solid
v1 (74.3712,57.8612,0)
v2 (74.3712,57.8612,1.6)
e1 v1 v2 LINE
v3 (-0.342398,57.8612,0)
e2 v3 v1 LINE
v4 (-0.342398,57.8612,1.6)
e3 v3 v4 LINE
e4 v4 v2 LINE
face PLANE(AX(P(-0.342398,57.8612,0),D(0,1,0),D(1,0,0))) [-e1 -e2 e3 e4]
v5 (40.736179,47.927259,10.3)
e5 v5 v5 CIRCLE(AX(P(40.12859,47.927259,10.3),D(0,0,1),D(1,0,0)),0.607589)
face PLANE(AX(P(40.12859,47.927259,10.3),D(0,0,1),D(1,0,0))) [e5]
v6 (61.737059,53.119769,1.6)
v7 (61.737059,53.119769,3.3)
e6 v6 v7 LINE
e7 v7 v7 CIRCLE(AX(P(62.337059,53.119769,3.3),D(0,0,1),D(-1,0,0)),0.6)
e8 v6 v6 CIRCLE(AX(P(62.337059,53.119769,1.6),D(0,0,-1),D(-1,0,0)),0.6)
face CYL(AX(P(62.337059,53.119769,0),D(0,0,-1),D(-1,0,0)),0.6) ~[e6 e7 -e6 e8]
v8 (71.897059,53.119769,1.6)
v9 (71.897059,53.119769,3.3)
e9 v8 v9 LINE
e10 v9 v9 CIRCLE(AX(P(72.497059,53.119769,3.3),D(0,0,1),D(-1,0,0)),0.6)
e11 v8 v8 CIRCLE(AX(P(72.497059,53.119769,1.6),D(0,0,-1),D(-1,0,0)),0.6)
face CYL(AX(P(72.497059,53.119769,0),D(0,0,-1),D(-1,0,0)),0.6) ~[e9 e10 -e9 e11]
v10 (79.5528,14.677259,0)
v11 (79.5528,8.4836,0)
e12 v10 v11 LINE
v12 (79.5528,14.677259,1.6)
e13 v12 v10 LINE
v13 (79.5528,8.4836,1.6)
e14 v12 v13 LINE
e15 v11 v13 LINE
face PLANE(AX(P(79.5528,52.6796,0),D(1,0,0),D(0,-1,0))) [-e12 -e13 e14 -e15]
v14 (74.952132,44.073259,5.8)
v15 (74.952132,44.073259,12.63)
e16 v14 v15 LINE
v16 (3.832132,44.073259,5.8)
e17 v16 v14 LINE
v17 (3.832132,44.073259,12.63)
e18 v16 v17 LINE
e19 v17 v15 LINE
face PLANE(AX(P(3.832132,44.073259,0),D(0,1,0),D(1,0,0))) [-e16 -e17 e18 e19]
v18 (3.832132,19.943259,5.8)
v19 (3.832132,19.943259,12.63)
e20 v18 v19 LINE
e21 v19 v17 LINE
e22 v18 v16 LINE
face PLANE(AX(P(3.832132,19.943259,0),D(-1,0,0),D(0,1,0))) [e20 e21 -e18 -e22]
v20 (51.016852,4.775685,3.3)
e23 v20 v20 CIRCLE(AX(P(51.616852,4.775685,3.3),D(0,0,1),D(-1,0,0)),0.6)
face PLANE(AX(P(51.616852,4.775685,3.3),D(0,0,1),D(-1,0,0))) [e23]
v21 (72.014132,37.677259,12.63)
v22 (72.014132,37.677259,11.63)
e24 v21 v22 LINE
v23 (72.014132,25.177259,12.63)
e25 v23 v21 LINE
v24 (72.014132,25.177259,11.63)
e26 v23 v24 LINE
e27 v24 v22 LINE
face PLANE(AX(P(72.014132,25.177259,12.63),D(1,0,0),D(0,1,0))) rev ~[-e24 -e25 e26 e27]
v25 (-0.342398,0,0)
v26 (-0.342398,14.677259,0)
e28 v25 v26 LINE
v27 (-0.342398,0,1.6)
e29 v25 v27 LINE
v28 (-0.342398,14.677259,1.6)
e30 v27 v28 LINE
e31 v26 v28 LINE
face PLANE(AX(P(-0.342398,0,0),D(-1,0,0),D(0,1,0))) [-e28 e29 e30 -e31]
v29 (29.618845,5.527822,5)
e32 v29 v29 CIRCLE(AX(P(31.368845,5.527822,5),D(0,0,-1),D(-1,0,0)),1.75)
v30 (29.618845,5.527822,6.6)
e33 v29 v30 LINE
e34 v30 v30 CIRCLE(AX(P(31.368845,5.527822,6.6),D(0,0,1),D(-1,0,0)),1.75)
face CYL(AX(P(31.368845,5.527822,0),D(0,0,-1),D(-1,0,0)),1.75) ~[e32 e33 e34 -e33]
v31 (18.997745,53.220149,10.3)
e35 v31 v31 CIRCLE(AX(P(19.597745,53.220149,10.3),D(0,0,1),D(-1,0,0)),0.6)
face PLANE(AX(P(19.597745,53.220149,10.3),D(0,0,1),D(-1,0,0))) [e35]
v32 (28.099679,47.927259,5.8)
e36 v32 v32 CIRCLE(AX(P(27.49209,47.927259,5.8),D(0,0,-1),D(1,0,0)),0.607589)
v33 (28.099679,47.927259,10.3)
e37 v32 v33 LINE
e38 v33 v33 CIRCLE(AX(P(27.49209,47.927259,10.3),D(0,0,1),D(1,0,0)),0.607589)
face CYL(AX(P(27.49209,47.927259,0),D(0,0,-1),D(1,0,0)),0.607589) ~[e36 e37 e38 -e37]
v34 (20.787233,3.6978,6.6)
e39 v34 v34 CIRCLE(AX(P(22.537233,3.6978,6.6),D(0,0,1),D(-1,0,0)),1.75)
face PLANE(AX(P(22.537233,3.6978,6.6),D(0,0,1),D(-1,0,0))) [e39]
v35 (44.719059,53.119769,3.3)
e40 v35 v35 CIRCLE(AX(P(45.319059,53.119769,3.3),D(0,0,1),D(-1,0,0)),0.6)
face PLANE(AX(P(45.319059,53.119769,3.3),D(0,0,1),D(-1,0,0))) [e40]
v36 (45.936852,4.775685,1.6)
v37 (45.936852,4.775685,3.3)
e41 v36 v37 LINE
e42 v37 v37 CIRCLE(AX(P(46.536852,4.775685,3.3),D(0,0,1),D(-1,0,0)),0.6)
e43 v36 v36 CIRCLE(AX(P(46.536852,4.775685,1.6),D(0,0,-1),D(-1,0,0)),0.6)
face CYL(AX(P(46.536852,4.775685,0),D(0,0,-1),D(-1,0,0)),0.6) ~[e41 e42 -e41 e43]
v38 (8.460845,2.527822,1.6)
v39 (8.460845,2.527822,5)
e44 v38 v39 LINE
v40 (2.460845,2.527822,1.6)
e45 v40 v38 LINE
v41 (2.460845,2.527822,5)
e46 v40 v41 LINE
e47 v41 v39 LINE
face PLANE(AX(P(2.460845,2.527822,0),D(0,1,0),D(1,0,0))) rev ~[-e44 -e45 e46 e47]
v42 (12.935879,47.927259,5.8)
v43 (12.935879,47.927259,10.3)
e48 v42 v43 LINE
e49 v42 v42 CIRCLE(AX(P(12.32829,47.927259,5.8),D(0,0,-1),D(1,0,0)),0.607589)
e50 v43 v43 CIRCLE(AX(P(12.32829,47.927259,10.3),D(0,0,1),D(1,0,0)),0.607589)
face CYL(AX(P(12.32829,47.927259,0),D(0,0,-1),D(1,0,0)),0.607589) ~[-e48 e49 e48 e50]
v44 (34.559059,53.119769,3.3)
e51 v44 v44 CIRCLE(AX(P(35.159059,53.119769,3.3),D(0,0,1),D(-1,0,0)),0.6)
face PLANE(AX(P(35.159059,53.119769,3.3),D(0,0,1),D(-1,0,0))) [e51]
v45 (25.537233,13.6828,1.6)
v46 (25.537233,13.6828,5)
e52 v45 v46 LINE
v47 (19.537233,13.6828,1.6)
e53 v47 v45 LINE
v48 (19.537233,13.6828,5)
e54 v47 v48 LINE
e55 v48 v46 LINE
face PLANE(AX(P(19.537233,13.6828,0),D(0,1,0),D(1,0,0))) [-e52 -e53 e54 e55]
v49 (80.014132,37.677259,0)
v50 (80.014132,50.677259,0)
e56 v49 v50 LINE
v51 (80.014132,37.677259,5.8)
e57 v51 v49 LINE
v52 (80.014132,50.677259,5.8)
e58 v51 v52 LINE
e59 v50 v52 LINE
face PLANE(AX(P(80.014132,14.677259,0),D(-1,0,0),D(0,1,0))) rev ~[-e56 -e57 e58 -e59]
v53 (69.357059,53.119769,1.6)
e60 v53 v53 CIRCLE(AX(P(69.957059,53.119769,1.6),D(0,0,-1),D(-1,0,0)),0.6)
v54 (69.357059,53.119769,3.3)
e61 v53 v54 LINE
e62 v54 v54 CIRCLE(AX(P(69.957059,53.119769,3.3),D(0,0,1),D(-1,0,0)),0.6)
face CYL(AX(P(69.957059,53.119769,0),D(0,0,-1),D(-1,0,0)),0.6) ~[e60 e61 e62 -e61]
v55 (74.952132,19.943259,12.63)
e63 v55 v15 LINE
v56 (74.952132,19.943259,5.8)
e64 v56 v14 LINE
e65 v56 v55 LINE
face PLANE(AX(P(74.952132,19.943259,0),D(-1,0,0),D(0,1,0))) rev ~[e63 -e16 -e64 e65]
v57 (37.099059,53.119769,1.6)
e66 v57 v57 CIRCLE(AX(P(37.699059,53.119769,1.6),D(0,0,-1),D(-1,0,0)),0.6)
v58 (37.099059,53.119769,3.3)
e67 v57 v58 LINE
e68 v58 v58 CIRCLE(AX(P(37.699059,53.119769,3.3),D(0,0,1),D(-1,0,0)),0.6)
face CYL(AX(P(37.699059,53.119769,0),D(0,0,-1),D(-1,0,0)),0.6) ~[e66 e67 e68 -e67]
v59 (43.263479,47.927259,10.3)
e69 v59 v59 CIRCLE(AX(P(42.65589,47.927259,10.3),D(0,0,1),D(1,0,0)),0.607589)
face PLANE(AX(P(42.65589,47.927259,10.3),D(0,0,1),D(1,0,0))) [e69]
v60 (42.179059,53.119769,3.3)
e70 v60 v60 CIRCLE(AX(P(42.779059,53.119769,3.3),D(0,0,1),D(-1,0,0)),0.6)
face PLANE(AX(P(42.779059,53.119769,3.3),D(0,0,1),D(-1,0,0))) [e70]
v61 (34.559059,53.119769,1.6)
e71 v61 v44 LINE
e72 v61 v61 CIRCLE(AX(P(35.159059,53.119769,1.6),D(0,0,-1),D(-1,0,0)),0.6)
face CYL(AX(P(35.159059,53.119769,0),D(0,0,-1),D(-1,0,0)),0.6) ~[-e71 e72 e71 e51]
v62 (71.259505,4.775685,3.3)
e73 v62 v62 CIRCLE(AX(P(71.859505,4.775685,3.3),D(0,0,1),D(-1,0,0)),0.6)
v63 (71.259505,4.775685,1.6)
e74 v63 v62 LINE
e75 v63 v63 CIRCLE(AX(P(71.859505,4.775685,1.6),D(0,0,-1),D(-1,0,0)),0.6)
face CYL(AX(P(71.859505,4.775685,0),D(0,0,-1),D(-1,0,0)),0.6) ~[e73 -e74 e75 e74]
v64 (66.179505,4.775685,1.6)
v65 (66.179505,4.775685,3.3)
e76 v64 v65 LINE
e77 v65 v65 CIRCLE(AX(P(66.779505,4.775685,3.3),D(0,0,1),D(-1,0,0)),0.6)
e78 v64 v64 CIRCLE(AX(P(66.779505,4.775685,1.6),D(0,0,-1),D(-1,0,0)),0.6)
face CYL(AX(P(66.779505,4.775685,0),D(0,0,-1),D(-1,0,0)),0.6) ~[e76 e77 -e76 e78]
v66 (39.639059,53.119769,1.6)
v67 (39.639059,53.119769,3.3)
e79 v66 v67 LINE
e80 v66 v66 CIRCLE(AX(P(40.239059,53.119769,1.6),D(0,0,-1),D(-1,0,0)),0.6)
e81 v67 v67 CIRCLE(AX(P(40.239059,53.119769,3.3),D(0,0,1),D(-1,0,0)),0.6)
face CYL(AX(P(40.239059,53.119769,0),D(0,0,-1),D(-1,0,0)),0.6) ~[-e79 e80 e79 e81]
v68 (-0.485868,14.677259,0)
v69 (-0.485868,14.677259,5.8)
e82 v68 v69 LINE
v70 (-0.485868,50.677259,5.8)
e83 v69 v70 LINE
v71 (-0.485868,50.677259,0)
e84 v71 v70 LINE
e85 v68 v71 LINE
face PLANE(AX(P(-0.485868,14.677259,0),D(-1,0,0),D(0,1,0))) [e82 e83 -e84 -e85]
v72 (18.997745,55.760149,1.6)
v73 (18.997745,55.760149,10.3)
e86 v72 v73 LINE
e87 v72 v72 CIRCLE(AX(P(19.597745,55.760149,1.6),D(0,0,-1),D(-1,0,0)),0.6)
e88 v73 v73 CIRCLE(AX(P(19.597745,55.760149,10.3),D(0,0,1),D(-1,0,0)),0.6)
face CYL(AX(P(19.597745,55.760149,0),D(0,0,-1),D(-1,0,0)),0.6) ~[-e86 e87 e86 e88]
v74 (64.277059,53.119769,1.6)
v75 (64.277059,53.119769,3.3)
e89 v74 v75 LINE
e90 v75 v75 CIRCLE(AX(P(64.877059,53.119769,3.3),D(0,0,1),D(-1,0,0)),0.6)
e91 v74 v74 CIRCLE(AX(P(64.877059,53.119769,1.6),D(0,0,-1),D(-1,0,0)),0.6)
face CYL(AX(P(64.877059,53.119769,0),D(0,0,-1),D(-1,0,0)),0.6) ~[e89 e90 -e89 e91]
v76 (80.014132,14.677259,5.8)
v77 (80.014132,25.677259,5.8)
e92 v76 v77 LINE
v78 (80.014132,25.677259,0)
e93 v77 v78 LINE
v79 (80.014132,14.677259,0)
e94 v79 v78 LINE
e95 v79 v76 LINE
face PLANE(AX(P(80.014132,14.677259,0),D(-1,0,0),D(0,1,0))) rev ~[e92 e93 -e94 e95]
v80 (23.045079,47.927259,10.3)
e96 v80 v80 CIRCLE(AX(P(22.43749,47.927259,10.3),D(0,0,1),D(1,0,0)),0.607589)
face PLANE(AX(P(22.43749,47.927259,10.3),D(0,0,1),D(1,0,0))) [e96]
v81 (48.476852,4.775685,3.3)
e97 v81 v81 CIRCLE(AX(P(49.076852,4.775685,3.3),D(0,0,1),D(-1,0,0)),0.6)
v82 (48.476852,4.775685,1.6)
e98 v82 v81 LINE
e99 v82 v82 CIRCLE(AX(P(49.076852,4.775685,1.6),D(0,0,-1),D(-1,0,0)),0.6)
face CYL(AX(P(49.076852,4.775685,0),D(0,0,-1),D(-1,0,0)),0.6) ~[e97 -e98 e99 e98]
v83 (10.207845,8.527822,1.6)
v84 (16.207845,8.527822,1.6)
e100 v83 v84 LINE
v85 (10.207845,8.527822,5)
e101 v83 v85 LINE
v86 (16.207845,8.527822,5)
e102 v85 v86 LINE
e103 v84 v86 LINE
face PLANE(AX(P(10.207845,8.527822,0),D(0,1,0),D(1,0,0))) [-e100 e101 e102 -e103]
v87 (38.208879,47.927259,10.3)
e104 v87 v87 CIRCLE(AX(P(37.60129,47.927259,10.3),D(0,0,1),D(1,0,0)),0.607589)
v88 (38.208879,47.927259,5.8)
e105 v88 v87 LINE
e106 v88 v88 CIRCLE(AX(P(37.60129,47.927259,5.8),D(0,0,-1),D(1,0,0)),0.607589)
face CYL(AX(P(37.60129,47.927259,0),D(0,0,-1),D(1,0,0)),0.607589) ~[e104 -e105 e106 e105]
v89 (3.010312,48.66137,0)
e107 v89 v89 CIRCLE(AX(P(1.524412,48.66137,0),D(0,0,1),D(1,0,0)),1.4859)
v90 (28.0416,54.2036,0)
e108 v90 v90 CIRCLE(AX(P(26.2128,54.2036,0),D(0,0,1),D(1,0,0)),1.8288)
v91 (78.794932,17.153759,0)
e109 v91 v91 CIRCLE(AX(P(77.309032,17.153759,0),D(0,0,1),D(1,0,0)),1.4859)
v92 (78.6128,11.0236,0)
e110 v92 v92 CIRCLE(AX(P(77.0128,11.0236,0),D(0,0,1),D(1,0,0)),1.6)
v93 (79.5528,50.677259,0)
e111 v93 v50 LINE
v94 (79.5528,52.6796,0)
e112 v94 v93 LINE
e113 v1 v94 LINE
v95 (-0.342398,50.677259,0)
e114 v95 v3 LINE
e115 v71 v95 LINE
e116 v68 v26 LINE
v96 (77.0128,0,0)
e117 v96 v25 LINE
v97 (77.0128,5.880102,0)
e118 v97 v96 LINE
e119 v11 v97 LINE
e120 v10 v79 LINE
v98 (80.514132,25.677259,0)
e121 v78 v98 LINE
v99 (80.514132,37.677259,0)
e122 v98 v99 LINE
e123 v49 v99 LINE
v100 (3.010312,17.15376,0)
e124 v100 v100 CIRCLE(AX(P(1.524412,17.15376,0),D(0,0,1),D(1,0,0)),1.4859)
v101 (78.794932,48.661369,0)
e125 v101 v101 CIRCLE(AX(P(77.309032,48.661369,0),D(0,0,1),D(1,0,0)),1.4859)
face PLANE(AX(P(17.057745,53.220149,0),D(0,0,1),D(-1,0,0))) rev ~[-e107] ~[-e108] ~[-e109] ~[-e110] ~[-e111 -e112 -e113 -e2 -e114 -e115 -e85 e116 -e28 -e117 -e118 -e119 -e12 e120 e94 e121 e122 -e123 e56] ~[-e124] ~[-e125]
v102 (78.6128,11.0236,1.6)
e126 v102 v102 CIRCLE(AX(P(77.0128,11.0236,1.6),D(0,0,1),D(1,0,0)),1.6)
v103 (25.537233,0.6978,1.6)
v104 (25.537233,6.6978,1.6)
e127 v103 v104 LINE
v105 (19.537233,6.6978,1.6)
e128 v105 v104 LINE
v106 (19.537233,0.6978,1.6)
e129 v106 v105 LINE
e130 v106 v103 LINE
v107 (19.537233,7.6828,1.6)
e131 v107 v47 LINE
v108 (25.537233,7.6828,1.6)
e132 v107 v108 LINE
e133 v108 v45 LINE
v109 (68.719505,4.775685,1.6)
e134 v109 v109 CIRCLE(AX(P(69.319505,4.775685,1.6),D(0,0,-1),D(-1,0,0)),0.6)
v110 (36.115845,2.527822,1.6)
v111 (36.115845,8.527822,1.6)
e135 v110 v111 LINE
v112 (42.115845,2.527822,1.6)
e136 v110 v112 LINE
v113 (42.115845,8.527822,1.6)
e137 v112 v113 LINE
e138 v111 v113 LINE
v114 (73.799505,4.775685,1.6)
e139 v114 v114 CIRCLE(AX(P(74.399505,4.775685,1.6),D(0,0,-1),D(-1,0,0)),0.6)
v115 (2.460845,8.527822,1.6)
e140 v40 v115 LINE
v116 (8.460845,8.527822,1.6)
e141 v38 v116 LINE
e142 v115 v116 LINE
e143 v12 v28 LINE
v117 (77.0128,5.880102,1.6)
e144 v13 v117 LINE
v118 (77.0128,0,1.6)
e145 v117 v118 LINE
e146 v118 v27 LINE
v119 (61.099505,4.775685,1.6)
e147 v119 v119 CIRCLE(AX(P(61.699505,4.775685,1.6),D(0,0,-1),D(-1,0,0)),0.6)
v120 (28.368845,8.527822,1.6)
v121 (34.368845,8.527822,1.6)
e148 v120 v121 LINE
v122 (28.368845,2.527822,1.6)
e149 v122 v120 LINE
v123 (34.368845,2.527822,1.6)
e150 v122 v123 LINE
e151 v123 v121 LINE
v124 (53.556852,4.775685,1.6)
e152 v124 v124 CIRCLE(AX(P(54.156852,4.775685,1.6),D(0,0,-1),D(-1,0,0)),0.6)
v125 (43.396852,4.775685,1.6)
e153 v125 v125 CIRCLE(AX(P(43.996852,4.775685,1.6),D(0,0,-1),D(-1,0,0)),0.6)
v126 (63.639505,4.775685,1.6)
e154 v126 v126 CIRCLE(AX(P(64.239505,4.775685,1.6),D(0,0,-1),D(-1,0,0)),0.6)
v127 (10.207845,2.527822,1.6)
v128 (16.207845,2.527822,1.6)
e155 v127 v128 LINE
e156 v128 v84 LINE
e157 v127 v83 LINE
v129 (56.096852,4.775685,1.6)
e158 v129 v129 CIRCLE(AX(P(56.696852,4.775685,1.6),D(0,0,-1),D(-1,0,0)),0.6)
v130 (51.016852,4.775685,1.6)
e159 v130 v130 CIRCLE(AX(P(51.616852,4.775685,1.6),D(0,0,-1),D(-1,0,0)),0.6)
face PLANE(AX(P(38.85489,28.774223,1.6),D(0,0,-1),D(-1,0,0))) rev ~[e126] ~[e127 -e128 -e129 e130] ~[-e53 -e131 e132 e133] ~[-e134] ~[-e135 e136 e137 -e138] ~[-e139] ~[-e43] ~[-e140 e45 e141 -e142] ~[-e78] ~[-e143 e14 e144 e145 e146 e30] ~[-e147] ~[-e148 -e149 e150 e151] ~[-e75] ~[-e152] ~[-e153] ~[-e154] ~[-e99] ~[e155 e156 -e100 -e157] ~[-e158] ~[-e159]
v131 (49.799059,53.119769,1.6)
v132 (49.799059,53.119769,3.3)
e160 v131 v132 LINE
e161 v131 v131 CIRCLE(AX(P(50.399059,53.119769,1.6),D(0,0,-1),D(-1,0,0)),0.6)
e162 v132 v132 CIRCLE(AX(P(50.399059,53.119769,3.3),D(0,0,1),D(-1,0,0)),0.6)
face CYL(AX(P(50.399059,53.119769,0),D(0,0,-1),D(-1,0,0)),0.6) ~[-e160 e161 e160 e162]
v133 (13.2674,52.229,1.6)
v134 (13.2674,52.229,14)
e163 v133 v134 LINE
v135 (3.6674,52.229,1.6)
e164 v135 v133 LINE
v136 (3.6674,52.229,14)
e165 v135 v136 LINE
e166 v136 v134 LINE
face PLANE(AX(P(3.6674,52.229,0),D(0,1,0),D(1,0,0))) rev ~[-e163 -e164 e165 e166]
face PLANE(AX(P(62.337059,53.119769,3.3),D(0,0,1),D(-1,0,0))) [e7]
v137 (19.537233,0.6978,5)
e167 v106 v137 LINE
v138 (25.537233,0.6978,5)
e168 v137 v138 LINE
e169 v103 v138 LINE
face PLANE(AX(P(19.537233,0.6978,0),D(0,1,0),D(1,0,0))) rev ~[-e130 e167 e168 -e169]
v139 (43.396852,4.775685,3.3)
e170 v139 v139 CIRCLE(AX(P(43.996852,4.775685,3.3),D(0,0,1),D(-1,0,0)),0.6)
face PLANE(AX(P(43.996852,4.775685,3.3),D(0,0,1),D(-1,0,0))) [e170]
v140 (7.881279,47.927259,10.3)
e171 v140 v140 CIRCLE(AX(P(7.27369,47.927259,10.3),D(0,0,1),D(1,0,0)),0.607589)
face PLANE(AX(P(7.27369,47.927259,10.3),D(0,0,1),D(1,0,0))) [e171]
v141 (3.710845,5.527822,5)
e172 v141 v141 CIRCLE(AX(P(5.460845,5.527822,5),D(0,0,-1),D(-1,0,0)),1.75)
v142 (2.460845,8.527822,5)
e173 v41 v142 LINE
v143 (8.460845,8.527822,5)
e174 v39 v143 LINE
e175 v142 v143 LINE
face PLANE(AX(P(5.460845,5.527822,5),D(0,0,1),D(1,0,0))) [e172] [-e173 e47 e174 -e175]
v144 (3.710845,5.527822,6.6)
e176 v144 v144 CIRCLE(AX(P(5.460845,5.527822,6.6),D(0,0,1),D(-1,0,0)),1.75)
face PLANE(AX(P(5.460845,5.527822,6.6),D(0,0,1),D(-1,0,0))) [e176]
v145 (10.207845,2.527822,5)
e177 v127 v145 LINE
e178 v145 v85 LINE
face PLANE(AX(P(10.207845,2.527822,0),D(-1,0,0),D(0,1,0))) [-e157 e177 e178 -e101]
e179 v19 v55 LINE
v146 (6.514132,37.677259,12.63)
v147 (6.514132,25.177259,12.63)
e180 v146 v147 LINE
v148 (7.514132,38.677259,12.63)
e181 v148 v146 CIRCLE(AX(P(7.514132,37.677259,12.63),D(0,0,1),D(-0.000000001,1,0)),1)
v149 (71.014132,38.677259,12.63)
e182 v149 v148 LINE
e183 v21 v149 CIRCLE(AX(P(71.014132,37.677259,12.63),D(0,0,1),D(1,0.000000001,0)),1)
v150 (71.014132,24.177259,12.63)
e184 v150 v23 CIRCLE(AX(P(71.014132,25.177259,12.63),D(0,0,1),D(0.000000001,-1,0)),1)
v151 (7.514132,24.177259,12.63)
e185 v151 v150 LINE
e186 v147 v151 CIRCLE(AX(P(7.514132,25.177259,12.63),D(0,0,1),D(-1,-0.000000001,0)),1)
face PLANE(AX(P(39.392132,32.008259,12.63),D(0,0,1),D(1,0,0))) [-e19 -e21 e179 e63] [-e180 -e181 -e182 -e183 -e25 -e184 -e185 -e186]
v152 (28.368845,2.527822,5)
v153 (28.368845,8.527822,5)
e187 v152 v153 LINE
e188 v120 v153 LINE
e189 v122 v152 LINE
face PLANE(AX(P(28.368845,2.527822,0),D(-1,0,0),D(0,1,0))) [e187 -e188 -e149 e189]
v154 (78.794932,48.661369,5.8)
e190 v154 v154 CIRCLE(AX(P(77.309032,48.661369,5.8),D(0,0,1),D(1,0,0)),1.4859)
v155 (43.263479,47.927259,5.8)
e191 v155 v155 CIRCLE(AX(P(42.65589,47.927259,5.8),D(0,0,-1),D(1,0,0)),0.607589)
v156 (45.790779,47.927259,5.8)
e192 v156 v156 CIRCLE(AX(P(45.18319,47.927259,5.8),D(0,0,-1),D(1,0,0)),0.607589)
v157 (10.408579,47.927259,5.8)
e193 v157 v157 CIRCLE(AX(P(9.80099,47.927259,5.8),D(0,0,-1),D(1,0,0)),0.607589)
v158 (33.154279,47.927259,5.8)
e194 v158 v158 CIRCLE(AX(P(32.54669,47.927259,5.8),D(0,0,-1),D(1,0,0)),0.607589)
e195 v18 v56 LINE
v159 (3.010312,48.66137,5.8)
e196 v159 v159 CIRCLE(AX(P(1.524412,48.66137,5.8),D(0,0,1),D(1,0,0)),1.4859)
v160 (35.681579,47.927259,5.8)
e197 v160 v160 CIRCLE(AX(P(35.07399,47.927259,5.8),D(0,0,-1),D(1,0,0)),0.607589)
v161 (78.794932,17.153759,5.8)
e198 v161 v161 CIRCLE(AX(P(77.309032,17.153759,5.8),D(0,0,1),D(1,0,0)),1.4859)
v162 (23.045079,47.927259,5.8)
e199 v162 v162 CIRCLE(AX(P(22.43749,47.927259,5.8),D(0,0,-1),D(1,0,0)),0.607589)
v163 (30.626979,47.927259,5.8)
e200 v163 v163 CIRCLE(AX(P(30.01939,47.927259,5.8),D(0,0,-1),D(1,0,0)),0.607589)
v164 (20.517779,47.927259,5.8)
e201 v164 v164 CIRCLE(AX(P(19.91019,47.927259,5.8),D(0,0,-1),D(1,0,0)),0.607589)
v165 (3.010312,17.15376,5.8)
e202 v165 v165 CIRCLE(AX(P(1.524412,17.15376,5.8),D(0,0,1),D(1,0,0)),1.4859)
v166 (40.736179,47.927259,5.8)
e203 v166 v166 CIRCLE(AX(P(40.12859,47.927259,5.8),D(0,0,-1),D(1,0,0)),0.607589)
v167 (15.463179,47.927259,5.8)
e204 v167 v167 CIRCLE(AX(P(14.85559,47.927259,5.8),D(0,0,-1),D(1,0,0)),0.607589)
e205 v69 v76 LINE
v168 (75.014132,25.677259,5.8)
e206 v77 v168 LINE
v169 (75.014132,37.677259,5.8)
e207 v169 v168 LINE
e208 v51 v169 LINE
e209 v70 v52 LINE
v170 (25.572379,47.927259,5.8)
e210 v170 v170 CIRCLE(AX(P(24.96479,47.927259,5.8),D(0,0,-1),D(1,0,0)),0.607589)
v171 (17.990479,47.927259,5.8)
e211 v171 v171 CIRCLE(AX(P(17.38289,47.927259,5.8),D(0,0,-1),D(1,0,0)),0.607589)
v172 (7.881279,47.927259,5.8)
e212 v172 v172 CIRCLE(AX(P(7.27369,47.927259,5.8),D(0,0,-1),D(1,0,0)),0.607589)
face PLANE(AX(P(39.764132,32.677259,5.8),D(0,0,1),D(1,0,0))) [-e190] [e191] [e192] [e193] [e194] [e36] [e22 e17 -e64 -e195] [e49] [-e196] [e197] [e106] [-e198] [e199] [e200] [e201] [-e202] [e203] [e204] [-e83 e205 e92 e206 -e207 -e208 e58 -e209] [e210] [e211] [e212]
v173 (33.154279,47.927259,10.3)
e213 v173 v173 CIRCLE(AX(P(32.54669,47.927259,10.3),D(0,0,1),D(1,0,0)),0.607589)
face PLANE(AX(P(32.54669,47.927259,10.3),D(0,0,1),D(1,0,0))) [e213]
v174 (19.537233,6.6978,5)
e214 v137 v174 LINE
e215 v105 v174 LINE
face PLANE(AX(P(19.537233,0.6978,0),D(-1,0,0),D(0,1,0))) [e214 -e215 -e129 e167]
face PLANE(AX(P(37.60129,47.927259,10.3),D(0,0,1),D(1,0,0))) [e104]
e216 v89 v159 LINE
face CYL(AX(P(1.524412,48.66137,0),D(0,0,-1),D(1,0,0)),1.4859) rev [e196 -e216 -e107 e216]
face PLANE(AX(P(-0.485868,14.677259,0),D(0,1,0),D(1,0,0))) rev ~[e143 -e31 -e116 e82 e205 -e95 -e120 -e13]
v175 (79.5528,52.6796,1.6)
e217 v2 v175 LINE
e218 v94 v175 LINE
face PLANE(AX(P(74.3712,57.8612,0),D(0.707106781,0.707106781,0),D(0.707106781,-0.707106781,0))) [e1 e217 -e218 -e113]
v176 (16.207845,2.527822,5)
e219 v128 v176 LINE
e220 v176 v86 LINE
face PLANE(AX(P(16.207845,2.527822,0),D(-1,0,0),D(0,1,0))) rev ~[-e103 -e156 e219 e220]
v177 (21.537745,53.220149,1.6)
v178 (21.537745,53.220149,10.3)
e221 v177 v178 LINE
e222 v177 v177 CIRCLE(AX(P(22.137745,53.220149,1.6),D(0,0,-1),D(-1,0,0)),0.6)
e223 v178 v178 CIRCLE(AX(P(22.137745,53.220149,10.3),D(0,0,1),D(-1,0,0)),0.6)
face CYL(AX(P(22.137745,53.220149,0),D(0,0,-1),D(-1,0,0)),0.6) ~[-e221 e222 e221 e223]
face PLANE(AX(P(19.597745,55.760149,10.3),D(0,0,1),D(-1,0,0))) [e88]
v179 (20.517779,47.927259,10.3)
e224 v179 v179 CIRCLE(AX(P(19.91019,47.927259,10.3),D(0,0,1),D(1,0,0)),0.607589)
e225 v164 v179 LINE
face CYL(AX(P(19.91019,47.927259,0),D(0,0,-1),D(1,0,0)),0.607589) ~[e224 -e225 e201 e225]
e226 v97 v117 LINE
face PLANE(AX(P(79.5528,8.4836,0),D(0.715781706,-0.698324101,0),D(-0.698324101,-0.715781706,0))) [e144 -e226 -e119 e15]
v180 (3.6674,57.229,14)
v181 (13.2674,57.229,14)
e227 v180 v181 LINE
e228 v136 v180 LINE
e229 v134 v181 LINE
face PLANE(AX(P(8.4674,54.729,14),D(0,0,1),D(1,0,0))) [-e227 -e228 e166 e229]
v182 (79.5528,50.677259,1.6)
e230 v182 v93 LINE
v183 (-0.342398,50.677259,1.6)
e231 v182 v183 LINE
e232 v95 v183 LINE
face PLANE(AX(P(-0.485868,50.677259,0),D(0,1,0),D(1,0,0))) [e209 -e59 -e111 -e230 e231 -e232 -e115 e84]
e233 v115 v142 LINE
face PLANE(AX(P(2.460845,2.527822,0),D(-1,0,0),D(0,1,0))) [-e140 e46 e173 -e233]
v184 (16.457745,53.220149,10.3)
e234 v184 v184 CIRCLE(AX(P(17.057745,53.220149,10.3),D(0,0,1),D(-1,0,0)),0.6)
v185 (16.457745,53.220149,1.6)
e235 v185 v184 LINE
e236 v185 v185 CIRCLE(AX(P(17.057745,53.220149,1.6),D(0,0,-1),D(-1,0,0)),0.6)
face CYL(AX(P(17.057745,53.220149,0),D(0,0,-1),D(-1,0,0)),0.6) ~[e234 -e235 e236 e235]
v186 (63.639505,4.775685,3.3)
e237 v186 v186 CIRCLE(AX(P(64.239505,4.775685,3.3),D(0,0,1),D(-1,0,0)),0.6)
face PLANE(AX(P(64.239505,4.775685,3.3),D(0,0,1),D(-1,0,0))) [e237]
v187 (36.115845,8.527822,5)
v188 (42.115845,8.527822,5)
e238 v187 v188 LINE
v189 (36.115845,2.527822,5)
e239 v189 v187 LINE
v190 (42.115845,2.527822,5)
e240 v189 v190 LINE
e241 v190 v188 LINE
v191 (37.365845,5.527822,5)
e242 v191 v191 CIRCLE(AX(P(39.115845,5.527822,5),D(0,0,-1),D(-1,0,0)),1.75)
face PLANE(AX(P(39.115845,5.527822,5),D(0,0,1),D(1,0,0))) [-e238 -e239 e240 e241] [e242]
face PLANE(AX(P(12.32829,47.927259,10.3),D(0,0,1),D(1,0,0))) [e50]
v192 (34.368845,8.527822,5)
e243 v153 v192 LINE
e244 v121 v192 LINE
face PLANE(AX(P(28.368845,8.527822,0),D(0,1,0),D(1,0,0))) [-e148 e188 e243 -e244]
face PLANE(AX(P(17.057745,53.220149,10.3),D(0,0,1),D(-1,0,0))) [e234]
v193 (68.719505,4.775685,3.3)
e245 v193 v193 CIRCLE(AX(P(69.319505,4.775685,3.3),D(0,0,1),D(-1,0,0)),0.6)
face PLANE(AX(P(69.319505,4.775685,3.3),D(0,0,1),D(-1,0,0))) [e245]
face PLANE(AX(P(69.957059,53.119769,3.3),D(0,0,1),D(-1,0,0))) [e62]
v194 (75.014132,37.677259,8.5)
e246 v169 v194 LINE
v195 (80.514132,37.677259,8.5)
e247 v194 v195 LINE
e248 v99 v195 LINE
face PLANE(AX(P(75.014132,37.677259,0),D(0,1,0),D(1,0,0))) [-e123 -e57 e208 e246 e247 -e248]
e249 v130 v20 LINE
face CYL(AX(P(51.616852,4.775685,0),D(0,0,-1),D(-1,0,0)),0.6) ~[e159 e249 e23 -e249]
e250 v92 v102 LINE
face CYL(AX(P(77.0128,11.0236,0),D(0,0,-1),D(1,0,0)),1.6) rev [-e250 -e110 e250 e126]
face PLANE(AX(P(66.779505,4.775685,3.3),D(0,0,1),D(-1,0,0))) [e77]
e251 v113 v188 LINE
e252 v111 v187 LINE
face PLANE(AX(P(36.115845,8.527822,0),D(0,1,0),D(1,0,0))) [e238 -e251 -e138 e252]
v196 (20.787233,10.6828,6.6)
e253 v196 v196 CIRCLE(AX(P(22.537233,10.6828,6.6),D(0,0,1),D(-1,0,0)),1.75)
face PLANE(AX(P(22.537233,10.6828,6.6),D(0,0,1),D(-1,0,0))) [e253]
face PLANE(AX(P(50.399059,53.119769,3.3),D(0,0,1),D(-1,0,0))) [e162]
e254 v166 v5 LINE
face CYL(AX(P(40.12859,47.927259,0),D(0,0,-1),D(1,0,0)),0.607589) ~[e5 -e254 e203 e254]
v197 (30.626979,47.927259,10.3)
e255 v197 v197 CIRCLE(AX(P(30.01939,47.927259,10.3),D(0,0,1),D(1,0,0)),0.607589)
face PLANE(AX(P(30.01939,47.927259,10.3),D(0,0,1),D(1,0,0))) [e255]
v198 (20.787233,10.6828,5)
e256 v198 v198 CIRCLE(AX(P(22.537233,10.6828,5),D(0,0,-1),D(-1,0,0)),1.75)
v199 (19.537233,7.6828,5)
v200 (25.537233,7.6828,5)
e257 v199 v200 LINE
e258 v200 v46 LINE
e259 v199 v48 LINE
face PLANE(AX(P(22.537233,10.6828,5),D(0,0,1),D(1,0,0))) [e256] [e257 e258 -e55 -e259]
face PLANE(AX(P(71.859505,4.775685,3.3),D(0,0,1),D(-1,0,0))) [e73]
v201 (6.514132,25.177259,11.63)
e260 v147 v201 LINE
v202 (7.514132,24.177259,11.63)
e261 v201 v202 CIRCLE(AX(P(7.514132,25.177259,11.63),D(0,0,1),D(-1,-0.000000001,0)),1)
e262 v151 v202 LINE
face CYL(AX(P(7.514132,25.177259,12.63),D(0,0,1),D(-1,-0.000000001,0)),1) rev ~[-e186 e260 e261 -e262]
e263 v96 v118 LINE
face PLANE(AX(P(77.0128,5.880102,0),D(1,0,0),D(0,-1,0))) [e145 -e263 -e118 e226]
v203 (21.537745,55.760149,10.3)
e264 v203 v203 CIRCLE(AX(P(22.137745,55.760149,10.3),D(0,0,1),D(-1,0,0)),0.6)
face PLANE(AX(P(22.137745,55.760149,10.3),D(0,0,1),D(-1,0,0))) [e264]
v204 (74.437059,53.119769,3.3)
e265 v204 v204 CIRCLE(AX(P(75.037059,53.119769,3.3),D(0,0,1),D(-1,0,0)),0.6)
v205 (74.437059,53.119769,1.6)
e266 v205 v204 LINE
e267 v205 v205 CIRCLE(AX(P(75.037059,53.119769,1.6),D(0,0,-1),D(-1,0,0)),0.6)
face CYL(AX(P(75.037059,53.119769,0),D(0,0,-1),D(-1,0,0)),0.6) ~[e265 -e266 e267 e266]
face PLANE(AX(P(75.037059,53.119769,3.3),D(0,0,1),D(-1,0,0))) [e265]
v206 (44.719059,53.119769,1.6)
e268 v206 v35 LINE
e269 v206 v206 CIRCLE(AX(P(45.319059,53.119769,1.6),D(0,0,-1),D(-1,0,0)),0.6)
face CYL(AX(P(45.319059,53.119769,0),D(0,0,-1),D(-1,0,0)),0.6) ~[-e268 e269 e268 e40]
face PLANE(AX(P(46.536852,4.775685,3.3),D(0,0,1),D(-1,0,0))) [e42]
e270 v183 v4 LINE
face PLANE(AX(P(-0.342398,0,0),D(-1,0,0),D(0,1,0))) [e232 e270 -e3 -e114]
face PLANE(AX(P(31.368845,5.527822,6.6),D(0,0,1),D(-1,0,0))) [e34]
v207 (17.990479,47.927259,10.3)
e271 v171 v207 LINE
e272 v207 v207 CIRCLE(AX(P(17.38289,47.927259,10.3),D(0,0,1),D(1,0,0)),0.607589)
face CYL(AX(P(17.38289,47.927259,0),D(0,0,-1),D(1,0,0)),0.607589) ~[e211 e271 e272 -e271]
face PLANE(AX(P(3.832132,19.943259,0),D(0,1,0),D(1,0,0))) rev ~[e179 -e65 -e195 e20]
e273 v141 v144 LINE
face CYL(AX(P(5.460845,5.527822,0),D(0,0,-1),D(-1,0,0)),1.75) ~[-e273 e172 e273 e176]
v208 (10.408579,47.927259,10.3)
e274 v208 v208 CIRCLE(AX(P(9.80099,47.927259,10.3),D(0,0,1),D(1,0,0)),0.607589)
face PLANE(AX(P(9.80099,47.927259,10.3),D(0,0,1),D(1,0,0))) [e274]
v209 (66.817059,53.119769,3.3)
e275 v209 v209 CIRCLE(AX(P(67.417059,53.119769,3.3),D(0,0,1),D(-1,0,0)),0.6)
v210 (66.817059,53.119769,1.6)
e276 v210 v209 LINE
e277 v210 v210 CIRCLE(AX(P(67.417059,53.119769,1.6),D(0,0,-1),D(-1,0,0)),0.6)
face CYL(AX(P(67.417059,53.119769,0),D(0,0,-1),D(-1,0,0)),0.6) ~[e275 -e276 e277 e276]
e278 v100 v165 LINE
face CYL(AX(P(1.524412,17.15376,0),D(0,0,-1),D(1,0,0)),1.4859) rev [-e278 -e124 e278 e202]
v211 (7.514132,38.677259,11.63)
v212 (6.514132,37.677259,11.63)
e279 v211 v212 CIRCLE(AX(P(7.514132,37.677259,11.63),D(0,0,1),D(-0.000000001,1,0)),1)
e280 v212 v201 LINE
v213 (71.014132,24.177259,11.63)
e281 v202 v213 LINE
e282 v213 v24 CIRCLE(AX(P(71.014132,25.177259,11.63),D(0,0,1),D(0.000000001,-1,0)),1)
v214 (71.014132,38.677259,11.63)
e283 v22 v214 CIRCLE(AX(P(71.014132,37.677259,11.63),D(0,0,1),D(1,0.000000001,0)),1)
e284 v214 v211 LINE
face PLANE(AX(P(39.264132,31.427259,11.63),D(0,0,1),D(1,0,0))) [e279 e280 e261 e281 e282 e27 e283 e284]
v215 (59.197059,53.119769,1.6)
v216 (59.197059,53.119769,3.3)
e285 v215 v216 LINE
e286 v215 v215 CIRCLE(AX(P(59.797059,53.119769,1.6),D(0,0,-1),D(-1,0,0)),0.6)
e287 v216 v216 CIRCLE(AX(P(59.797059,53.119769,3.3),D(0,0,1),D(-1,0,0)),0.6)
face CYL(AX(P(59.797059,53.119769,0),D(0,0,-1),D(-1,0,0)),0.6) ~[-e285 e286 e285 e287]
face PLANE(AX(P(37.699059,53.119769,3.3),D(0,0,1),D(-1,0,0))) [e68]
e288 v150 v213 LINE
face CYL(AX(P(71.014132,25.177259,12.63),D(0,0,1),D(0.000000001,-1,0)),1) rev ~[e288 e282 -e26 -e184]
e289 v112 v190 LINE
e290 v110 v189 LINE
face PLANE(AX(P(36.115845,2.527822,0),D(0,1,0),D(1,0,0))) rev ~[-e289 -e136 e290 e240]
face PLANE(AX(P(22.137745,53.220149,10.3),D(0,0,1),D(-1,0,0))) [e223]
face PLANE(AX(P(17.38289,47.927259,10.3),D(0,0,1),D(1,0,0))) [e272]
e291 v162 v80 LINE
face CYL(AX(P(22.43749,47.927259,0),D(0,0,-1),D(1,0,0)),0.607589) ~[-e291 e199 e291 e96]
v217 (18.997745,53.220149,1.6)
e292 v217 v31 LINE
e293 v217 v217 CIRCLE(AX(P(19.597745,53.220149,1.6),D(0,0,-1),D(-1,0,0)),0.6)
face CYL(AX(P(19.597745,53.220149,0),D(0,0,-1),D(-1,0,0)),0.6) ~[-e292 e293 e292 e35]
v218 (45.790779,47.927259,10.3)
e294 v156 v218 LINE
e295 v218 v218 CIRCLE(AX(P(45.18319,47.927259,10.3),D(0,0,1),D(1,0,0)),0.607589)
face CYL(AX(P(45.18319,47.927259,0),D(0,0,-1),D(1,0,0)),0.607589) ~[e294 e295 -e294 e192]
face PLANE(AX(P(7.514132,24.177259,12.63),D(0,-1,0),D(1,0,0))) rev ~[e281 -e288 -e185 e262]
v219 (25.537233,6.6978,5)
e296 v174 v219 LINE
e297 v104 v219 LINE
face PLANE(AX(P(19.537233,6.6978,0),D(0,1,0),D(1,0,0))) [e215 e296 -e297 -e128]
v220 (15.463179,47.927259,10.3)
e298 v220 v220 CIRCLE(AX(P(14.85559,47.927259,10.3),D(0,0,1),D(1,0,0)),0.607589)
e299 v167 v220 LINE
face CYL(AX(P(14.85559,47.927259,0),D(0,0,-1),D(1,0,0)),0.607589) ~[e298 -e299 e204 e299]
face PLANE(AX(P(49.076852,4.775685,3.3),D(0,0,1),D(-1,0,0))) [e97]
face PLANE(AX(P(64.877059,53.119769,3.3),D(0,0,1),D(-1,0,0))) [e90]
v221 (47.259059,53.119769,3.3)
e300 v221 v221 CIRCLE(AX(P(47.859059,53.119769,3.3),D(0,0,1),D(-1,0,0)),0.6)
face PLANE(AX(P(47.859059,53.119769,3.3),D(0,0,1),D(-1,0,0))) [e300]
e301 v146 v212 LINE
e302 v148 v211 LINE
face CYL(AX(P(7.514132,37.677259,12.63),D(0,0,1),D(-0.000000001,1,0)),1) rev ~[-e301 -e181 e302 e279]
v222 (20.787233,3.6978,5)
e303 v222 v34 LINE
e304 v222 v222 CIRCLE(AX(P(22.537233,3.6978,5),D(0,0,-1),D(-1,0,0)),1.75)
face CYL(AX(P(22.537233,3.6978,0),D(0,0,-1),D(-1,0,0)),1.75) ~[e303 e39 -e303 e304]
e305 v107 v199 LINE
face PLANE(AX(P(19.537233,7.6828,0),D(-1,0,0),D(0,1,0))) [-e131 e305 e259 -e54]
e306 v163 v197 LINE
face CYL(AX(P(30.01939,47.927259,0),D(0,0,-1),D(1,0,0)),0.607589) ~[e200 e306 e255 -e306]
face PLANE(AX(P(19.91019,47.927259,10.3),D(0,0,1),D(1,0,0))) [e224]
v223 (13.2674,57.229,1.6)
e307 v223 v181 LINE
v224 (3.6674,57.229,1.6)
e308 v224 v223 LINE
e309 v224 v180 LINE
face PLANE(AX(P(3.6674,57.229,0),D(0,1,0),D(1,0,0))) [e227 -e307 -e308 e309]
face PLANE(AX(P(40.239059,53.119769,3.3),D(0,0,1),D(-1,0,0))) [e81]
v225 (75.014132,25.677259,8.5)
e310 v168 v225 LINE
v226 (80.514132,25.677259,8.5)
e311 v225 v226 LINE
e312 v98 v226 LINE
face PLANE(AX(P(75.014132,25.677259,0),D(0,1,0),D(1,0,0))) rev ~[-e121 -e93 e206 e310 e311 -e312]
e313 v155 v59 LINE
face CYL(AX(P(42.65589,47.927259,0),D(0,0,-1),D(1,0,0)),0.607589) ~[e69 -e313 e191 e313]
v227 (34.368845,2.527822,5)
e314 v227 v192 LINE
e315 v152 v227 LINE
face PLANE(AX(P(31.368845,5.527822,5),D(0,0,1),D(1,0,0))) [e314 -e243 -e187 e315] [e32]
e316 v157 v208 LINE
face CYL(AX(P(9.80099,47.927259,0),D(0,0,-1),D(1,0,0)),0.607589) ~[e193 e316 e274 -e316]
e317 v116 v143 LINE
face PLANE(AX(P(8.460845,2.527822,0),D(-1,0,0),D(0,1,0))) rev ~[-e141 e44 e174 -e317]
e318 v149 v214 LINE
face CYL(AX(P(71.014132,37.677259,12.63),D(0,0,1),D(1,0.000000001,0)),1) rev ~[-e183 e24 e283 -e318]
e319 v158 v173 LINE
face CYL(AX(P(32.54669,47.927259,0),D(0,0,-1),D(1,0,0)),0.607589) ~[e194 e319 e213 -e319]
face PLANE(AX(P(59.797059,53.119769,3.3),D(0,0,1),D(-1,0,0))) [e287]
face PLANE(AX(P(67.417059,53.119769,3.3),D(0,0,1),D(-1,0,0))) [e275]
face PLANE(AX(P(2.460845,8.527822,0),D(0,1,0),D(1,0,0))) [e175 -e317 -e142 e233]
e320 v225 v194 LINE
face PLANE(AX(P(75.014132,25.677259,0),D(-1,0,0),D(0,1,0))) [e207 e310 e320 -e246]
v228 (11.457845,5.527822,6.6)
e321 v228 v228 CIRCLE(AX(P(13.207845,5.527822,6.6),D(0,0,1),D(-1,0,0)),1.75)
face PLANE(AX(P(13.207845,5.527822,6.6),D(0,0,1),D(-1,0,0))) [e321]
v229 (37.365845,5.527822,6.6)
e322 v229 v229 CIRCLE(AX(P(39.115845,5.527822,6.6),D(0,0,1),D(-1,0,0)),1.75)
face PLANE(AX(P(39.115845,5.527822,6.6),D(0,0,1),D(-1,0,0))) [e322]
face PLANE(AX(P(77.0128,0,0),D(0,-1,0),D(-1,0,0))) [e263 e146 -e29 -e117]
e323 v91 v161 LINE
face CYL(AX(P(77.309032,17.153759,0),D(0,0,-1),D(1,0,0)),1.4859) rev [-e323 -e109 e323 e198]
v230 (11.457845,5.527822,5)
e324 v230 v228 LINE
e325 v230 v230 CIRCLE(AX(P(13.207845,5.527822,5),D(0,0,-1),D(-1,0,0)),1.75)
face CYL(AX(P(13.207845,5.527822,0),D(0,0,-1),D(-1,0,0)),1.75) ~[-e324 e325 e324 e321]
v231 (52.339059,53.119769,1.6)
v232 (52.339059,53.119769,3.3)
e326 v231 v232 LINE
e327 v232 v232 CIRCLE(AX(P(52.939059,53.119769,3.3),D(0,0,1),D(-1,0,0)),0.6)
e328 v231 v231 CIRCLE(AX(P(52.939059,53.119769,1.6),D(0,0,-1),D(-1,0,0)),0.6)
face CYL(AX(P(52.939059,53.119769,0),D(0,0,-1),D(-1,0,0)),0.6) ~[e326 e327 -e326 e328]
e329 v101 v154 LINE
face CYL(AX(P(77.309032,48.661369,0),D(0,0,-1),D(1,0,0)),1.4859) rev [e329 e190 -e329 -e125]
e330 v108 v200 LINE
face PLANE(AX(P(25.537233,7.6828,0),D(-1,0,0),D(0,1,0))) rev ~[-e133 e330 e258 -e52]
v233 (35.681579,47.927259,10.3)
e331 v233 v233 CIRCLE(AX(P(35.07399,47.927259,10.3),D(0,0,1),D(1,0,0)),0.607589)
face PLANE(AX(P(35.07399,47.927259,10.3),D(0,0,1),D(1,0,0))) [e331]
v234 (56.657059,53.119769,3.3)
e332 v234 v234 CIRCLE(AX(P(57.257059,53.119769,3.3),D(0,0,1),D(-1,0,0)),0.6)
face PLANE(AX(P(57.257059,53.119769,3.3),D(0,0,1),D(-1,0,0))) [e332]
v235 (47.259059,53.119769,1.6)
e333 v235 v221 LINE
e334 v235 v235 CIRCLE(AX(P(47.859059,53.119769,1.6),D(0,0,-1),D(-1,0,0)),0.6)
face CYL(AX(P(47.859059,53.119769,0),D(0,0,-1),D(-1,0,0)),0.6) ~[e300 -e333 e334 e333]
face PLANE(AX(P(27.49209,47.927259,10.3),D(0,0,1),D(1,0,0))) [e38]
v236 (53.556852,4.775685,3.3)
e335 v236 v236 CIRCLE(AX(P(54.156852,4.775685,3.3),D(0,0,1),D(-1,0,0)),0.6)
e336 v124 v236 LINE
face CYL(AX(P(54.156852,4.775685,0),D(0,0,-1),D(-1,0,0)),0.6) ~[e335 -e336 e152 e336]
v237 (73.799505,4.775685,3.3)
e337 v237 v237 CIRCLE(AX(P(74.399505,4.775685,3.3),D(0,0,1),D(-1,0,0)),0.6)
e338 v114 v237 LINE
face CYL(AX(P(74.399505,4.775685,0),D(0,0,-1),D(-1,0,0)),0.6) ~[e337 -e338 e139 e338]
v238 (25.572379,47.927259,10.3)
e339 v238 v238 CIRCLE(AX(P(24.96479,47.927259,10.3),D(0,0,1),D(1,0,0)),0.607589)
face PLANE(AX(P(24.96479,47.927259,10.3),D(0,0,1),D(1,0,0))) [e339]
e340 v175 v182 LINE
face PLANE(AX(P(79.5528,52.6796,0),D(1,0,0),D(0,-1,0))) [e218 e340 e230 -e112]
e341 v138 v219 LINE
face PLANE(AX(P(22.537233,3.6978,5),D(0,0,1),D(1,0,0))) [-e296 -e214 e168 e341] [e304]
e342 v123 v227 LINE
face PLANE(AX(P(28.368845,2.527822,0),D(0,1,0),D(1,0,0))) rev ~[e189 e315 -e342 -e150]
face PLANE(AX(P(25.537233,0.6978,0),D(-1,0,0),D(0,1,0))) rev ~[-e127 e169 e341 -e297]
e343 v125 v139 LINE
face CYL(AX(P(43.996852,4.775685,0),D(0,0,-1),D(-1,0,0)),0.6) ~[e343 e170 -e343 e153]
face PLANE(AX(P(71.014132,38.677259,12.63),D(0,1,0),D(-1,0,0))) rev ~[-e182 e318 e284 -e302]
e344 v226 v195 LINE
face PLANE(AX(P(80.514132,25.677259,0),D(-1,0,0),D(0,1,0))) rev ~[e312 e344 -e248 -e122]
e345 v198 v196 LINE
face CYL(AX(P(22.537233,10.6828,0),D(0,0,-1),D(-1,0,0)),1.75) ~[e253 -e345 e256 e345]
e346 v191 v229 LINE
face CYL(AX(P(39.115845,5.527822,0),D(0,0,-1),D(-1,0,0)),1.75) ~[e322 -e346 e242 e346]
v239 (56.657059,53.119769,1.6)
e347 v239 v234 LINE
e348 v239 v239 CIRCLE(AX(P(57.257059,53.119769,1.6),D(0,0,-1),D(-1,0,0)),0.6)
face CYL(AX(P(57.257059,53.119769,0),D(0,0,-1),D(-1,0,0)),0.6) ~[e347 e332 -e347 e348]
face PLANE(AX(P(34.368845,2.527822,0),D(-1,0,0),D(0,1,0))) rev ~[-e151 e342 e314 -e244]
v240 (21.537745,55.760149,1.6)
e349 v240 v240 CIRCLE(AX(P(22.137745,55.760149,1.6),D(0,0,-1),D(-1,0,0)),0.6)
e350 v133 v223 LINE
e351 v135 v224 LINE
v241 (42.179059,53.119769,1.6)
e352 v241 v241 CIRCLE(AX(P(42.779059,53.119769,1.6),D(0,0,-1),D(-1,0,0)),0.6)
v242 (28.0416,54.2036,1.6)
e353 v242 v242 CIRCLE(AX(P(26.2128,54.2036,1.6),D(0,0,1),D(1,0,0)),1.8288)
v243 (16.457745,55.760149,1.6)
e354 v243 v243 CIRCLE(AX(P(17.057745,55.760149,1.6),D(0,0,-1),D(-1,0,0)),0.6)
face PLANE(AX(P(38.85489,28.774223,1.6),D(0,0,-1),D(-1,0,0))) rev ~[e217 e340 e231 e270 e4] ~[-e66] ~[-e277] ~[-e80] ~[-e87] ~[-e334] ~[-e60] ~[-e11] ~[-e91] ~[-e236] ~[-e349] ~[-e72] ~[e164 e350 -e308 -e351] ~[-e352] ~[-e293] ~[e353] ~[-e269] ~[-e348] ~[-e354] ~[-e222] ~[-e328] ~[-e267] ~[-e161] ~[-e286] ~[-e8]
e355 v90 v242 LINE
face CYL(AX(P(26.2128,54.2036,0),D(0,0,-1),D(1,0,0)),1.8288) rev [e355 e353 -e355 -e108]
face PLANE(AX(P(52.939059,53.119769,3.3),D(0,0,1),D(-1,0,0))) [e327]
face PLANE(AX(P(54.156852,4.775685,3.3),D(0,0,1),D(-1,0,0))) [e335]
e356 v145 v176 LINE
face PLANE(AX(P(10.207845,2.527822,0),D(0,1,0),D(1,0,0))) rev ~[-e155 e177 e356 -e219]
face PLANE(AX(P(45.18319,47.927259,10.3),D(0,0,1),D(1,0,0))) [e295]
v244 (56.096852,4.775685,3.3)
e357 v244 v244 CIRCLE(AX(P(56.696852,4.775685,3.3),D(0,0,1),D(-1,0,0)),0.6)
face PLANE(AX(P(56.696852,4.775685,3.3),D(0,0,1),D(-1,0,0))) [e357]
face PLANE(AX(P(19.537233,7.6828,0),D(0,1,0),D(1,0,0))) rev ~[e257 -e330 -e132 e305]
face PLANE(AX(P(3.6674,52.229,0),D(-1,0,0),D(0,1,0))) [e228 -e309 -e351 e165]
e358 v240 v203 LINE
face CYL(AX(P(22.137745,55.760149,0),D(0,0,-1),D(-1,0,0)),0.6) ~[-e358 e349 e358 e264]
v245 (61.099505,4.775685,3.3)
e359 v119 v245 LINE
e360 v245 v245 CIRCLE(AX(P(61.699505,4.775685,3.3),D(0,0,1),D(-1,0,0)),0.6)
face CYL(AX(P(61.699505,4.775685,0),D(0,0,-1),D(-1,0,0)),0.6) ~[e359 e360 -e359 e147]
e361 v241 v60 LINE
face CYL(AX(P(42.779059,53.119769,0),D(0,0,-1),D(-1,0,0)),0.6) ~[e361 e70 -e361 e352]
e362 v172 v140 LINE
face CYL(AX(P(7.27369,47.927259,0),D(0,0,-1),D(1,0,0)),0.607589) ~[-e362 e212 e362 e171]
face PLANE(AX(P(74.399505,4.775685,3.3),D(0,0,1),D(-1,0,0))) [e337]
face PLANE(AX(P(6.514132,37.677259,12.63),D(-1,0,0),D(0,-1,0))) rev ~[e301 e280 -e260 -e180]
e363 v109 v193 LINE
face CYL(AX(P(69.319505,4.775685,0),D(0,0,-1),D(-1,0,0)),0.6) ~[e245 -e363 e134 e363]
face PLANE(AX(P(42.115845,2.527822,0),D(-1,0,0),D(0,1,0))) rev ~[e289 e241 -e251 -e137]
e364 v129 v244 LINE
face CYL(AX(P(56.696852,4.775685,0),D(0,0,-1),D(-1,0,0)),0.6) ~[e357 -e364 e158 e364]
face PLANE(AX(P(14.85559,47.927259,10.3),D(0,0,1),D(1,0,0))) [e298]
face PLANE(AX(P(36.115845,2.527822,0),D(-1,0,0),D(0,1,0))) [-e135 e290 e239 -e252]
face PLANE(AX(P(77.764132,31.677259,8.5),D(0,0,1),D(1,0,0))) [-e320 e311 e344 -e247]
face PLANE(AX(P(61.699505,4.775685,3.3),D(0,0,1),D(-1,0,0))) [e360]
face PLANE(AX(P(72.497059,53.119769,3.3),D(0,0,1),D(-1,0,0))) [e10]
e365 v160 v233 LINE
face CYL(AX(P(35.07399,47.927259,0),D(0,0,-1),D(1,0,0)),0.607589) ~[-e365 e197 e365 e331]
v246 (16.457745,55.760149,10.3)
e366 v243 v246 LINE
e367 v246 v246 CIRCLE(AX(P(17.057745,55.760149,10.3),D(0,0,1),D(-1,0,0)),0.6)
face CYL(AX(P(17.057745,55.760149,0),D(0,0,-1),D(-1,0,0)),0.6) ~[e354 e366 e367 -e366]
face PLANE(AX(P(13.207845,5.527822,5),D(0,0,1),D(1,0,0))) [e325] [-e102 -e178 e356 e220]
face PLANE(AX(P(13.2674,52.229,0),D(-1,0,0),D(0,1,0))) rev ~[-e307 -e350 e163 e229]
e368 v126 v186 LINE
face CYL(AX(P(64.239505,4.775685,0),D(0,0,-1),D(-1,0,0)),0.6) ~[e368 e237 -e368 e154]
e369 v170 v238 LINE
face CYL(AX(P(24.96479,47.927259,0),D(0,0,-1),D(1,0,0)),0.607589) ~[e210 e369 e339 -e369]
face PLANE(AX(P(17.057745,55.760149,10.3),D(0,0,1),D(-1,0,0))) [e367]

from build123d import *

# Parameters (mm, degrees)
SKETCH2_W            = 71.12
SKETCH2_H            = 24.13
BOSS_EXTRUDE1_DEPTH  = 12.63
SKETCH3_W            = 80.5
SKETCH3_H            = 36
SKETCH3_R            = 1.4859
BOSS_EXTRUDE2_DEPTH  = 5.8
SKETCH4_R            = 1.8288
SKETCH4_R_2          = 1.6
SKETCH4_R_3          = 1.4859
BOSS_EXTRUDE4_DEPTH  = 1.6
SKETCH5_R            = 1.75
BOSS_EXTRUDE5_DEPTH  = 6.6
SKETCH6_W            = 6
SKETCH6_H            = 6
BOSS_EXTRUDE6_DEPTH  = 5
SKETCH7_W            = 9.6
SKETCH7_H            = 5
BOSS_EXTRUDE7_DEPTH  = 14
SKETCH8_R            = 0.607588519
BOSS_EXTRUDE8_DEPTH  = 10.3
SKETCH9_R            = 0.6
BOSS_EXTRUDE9_DEPTH  = 3.3
SKETCH10_R           = 0.6
BOSS_EXTRUDE10_DEPTH = 10.3
SKETCH11_W           = 5.5
SKETCH11_H           = 12
BOSS_EXTRUDE11_DEPTH = 8.5
CUT_EXTRUDE1_DEPTH   = 1


with BuildPart() as part:
    # Sketch2 → Boss-Extrude1 (new body)
    with BuildSketch(Plane.XY):
        with Locations((39.392131734, 32.008259463)):
            Rectangle(SKETCH2_W, SKETCH2_H)
    extrude(amount=BOSS_EXTRUDE1_DEPTH)

    # Sketch3 → Boss-Extrude2 (add)
    with BuildSketch(Plane.XY):
        with Locations((39.764131734, 32.677259463)):
            Rectangle(SKETCH3_W, SKETCH3_H)
        with Locations((1.524412377, 48.661369793)):
            Circle(SKETCH3_R, mode=Mode.SUBTRACT)
        with Locations((1.524412377, 17.153759759)):
            Circle(SKETCH3_R, mode=Mode.SUBTRACT)
        with Locations((77.309031734, 17.153759463)):
            Circle(SKETCH3_R, mode=Mode.SUBTRACT)
        with Locations((77.309031734, 48.661369497)):
            Circle(SKETCH3_R, mode=Mode.SUBTRACT)
    extrude(amount=BOSS_EXTRUDE2_DEPTH)

    # Sketch4 → Boss-Extrude4 (add)
    with BuildSketch(Plane.XY):
        Polygon((-0.342397773, 57.8612), (74.3712, 57.8612), (79.5528, 52.6796), (79.5528, 8.4836), (77.0128, 5.880101811), (77.0128, 0), (-0.342397773, 0), align=None)
        with Locations((26.2128, 54.2036)):
            Circle(SKETCH4_R, mode=Mode.SUBTRACT)
        with Locations((77.0128, 11.0236)):
            Circle(SKETCH4_R_2, mode=Mode.SUBTRACT)
        with Locations((1.524412377, 48.661369793)):
            Circle(SKETCH4_R_3, mode=Mode.SUBTRACT)
        with Locations((1.524412377, 17.153759759)):
            Circle(SKETCH4_R_3, mode=Mode.SUBTRACT)
        with Locations((77.309031734, 17.153759463)):
            Circle(SKETCH4_R_3, mode=Mode.SUBTRACT)
        with Locations((77.309031734, 48.661369497)):
            Circle(SKETCH4_R_3, mode=Mode.SUBTRACT)
    extrude(amount=BOSS_EXTRUDE4_DEPTH)

    # Sketch5 → Boss-Extrude5 (add)
    with BuildSketch(Plane.XY):
        with Locations((5.460845243, 5.527822186)):
            Circle(SKETCH5_R)
        with Locations((39.115845243, 5.527822186)):
            Circle(SKETCH5_R)
        with Locations((31.368845243, 5.527822186)):
            Circle(SKETCH5_R)
        with Locations((22.537232927, 3.6978)):
            Circle(SKETCH5_R)
        with Locations((22.537232927, 10.6828)):
            Circle(SKETCH5_R)
        with Locations((13.207845243, 5.527822186)):
            Circle(SKETCH5_R)
    extrude(amount=BOSS_EXTRUDE5_DEPTH)

    # Sketch6 → Boss-Extrude6 (add)
    with BuildSketch(Plane.XY):
        with Locations((5.460845243, 5.527822186)):
            Rectangle(SKETCH6_W, SKETCH6_H)
        with Locations((13.207845243, 5.527822186)):
            Rectangle(SKETCH6_W, SKETCH6_H)
        with Locations((22.537232927, 10.6828)):
            Rectangle(SKETCH6_W, SKETCH6_H)
        with Locations((22.537232927, 3.6978)):
            Rectangle(SKETCH6_W, SKETCH6_H)
        with Locations((31.368845243, 5.527822186)):
            Rectangle(SKETCH6_W, SKETCH6_H)
        with Locations((39.115845243, 5.527822186)):
            Rectangle(SKETCH6_W, SKETCH6_H)
    extrude(amount=BOSS_EXTRUDE6_DEPTH)

    # Sketch7 → Boss-Extrude7 (add)
    with BuildSketch(Plane.XY):
        with Locations((8.4674, 54.729)):
            Rectangle(SKETCH7_W, SKETCH7_H)
    extrude(amount=BOSS_EXTRUDE7_DEPTH)

    # Sketch8 → Boss-Extrude8 (add)
    with BuildSketch(Plane.XY):
        with Locations((45.183190385, 47.927259463)):
            Circle(SKETCH8_R)
        with Locations((42.655890385, 47.927259463)):
            Circle(SKETCH8_R)
        with Locations((40.128590385, 47.927259463)):
            Circle(SKETCH8_R)
        with Locations((37.601290385, 47.927259463)):
            Circle(SKETCH8_R)
        with Locations((35.073990385, 47.927259463)):
            Circle(SKETCH8_R)
        with Locations((32.546690385, 47.927259463)):
            Circle(SKETCH8_R)
        with Locations((30.019390385, 47.927259463)):
            Circle(SKETCH8_R)
        with Locations((27.492090385, 47.927259463)):
            Circle(SKETCH8_R)
        with Locations((24.964790385, 47.927259463)):
            Circle(SKETCH8_R)
        with Locations((22.437490385, 47.927259463)):
            Circle(SKETCH8_R)
        with Locations((19.910190385, 47.927259463)):
            Circle(SKETCH8_R)
        with Locations((17.382890385, 47.927259463)):
            Circle(SKETCH8_R)
        with Locations((14.855590385, 47.927259463)):
            Circle(SKETCH8_R)
        with Locations((12.328290385, 47.927259463)):
            Circle(SKETCH8_R)
        with Locations((9.800990385, 47.927259463)):
            Circle(SKETCH8_R)
        with Locations((7.273690385, 47.927259463)):
            Circle(SKETCH8_R)
    extrude(amount=BOSS_EXTRUDE8_DEPTH)

    # Sketch9 → Boss-Extrude9 (add)
    with BuildSketch(Plane.XY):
        with Locations((74.399505323, 4.775685088)):
            Circle(SKETCH9_R)
        with Locations((71.859505323, 4.775685088)):
            Circle(SKETCH9_R)
        with Locations((69.319505323, 4.775685088)):
            Circle(SKETCH9_R)
        with Locations((66.779505323, 4.775685088)):
            Circle(SKETCH9_R)
        with Locations((64.239505323, 4.775685088)):
            Circle(SKETCH9_R)
        with Locations((61.699505323, 4.775685088)):
            Circle(SKETCH9_R)
        with Locations((56.696852257, 4.775685088)):
            Circle(SKETCH9_R)
        with Locations((54.156852257, 4.775685088)):
            Circle(SKETCH9_R)
        with Locations((51.616852257, 4.775685088)):
            Circle(SKETCH9_R)
        with Locations((49.076852257, 4.775685088)):
            Circle(SKETCH9_R)
        with Locations((46.536852257, 4.775685088)):
            Circle(SKETCH9_R)
        with Locations((43.996852257, 4.775685088)):
            Circle(SKETCH9_R)
        with Locations((75.037059203, 53.119768804)):
            Circle(SKETCH9_R)
        with Locations((72.497059203, 53.119768804)):
            Circle(SKETCH9_R)
        with Locations((69.957059203, 53.119768804)):
            Circle(SKETCH9_R)
        with Locations((67.417059203, 53.119768804)):
            Circle(SKETCH9_R)
        with Locations((64.877059203, 53.119768804)):
            Circle(SKETCH9_R)
        with Locations((62.337059203, 53.119768804)):
            Circle(SKETCH9_R)
        with Locations((59.797059203, 53.119768804)):
            Circle(SKETCH9_R)
        with Locations((57.257059203, 53.119768804)):
            Circle(SKETCH9_R)
        with Locations((52.939059203, 53.119768804)):
            Circle(SKETCH9_R)
        with Locations((50.399059203, 53.119768804)):
            Circle(SKETCH9_R)
        with Locations((47.859059203, 53.119768804)):
            Circle(SKETCH9_R)
        with Locations((45.319059203, 53.119768804)):
            Circle(SKETCH9_R)
        with Locations((42.779059203, 53.119768804)):
            Circle(SKETCH9_R)
        with Locations((40.239059203, 53.119768804)):
            Circle(SKETCH9_R)
        with Locations((37.699059203, 53.119768804)):
            Circle(SKETCH9_R)
        with Locations((35.159059203, 53.119768804)):
            Circle(SKETCH9_R)
    extrude(amount=BOSS_EXTRUDE9_DEPTH)

    # Sketch10 → Boss-Extrude10 (add)
    with BuildSketch(Plane.XY):
        with Locations((17.057745163, 53.220149318)):
            Circle(SKETCH10_R)
        with Locations((19.597745163, 53.220149318)):
            Circle(SKETCH10_R)
        with Locations((22.137745163, 53.220149318)):
            Circle(SKETCH10_R)
        with Locations((22.137745163, 55.760149318)):
            Circle(SKETCH10_R)
        with Locations((19.597745163, 55.760149318)):
            Circle(SKETCH10_R)
        with Locations((17.057745163, 55.760149318)):
            Circle(SKETCH10_R)
    extrude(amount=BOSS_EXTRUDE10_DEPTH)

    # Sketch11 → Boss-Extrude11 (add)
    with BuildSketch(Plane.XY):
        with Locations((77.764131734, 31.677259463)):
            Rectangle(SKETCH11_W, SKETCH11_H)
    extrude(amount=BOSS_EXTRUDE11_DEPTH)

    # Sketch12 → Cut-Extrude1 (cut)
    with BuildSketch(Plane.XY.offset(12.63)):
        with BuildLine():
            Line((72.014131734, 25.177259463), (72.014131734, 37.677259463))
            ThreePointArc((72.014131734, 37.677259463), (71.721238515, 38.384366244), (71.014131734, 38.677259463))
            Line((71.014131734, 38.677259463), (7.514131734, 38.677259463))
            ThreePointArc((7.514131734, 38.677259463), (6.807024953, 38.384366244), (6.514131734, 37.677259463))
            Line((6.514131734, 37.677259463), (6.514131734, 25.177259463))
            ThreePointArc((6.514131734, 25.177259463), (6.807024953, 24.470152682), (7.514131734, 24.177259463))
            Line((7.514131734, 24.177259463), (71.014131734, 24.177259463))
            ThreePointArc((71.014131734, 24.177259463), (71.721238515, 24.470152682), (72.014131734, 25.177259463))
        make_face()
    extrude(amount=-CUT_EXTRUDE1_DEPTH, mode=Mode.SUBTRACT)


solid = part.part
